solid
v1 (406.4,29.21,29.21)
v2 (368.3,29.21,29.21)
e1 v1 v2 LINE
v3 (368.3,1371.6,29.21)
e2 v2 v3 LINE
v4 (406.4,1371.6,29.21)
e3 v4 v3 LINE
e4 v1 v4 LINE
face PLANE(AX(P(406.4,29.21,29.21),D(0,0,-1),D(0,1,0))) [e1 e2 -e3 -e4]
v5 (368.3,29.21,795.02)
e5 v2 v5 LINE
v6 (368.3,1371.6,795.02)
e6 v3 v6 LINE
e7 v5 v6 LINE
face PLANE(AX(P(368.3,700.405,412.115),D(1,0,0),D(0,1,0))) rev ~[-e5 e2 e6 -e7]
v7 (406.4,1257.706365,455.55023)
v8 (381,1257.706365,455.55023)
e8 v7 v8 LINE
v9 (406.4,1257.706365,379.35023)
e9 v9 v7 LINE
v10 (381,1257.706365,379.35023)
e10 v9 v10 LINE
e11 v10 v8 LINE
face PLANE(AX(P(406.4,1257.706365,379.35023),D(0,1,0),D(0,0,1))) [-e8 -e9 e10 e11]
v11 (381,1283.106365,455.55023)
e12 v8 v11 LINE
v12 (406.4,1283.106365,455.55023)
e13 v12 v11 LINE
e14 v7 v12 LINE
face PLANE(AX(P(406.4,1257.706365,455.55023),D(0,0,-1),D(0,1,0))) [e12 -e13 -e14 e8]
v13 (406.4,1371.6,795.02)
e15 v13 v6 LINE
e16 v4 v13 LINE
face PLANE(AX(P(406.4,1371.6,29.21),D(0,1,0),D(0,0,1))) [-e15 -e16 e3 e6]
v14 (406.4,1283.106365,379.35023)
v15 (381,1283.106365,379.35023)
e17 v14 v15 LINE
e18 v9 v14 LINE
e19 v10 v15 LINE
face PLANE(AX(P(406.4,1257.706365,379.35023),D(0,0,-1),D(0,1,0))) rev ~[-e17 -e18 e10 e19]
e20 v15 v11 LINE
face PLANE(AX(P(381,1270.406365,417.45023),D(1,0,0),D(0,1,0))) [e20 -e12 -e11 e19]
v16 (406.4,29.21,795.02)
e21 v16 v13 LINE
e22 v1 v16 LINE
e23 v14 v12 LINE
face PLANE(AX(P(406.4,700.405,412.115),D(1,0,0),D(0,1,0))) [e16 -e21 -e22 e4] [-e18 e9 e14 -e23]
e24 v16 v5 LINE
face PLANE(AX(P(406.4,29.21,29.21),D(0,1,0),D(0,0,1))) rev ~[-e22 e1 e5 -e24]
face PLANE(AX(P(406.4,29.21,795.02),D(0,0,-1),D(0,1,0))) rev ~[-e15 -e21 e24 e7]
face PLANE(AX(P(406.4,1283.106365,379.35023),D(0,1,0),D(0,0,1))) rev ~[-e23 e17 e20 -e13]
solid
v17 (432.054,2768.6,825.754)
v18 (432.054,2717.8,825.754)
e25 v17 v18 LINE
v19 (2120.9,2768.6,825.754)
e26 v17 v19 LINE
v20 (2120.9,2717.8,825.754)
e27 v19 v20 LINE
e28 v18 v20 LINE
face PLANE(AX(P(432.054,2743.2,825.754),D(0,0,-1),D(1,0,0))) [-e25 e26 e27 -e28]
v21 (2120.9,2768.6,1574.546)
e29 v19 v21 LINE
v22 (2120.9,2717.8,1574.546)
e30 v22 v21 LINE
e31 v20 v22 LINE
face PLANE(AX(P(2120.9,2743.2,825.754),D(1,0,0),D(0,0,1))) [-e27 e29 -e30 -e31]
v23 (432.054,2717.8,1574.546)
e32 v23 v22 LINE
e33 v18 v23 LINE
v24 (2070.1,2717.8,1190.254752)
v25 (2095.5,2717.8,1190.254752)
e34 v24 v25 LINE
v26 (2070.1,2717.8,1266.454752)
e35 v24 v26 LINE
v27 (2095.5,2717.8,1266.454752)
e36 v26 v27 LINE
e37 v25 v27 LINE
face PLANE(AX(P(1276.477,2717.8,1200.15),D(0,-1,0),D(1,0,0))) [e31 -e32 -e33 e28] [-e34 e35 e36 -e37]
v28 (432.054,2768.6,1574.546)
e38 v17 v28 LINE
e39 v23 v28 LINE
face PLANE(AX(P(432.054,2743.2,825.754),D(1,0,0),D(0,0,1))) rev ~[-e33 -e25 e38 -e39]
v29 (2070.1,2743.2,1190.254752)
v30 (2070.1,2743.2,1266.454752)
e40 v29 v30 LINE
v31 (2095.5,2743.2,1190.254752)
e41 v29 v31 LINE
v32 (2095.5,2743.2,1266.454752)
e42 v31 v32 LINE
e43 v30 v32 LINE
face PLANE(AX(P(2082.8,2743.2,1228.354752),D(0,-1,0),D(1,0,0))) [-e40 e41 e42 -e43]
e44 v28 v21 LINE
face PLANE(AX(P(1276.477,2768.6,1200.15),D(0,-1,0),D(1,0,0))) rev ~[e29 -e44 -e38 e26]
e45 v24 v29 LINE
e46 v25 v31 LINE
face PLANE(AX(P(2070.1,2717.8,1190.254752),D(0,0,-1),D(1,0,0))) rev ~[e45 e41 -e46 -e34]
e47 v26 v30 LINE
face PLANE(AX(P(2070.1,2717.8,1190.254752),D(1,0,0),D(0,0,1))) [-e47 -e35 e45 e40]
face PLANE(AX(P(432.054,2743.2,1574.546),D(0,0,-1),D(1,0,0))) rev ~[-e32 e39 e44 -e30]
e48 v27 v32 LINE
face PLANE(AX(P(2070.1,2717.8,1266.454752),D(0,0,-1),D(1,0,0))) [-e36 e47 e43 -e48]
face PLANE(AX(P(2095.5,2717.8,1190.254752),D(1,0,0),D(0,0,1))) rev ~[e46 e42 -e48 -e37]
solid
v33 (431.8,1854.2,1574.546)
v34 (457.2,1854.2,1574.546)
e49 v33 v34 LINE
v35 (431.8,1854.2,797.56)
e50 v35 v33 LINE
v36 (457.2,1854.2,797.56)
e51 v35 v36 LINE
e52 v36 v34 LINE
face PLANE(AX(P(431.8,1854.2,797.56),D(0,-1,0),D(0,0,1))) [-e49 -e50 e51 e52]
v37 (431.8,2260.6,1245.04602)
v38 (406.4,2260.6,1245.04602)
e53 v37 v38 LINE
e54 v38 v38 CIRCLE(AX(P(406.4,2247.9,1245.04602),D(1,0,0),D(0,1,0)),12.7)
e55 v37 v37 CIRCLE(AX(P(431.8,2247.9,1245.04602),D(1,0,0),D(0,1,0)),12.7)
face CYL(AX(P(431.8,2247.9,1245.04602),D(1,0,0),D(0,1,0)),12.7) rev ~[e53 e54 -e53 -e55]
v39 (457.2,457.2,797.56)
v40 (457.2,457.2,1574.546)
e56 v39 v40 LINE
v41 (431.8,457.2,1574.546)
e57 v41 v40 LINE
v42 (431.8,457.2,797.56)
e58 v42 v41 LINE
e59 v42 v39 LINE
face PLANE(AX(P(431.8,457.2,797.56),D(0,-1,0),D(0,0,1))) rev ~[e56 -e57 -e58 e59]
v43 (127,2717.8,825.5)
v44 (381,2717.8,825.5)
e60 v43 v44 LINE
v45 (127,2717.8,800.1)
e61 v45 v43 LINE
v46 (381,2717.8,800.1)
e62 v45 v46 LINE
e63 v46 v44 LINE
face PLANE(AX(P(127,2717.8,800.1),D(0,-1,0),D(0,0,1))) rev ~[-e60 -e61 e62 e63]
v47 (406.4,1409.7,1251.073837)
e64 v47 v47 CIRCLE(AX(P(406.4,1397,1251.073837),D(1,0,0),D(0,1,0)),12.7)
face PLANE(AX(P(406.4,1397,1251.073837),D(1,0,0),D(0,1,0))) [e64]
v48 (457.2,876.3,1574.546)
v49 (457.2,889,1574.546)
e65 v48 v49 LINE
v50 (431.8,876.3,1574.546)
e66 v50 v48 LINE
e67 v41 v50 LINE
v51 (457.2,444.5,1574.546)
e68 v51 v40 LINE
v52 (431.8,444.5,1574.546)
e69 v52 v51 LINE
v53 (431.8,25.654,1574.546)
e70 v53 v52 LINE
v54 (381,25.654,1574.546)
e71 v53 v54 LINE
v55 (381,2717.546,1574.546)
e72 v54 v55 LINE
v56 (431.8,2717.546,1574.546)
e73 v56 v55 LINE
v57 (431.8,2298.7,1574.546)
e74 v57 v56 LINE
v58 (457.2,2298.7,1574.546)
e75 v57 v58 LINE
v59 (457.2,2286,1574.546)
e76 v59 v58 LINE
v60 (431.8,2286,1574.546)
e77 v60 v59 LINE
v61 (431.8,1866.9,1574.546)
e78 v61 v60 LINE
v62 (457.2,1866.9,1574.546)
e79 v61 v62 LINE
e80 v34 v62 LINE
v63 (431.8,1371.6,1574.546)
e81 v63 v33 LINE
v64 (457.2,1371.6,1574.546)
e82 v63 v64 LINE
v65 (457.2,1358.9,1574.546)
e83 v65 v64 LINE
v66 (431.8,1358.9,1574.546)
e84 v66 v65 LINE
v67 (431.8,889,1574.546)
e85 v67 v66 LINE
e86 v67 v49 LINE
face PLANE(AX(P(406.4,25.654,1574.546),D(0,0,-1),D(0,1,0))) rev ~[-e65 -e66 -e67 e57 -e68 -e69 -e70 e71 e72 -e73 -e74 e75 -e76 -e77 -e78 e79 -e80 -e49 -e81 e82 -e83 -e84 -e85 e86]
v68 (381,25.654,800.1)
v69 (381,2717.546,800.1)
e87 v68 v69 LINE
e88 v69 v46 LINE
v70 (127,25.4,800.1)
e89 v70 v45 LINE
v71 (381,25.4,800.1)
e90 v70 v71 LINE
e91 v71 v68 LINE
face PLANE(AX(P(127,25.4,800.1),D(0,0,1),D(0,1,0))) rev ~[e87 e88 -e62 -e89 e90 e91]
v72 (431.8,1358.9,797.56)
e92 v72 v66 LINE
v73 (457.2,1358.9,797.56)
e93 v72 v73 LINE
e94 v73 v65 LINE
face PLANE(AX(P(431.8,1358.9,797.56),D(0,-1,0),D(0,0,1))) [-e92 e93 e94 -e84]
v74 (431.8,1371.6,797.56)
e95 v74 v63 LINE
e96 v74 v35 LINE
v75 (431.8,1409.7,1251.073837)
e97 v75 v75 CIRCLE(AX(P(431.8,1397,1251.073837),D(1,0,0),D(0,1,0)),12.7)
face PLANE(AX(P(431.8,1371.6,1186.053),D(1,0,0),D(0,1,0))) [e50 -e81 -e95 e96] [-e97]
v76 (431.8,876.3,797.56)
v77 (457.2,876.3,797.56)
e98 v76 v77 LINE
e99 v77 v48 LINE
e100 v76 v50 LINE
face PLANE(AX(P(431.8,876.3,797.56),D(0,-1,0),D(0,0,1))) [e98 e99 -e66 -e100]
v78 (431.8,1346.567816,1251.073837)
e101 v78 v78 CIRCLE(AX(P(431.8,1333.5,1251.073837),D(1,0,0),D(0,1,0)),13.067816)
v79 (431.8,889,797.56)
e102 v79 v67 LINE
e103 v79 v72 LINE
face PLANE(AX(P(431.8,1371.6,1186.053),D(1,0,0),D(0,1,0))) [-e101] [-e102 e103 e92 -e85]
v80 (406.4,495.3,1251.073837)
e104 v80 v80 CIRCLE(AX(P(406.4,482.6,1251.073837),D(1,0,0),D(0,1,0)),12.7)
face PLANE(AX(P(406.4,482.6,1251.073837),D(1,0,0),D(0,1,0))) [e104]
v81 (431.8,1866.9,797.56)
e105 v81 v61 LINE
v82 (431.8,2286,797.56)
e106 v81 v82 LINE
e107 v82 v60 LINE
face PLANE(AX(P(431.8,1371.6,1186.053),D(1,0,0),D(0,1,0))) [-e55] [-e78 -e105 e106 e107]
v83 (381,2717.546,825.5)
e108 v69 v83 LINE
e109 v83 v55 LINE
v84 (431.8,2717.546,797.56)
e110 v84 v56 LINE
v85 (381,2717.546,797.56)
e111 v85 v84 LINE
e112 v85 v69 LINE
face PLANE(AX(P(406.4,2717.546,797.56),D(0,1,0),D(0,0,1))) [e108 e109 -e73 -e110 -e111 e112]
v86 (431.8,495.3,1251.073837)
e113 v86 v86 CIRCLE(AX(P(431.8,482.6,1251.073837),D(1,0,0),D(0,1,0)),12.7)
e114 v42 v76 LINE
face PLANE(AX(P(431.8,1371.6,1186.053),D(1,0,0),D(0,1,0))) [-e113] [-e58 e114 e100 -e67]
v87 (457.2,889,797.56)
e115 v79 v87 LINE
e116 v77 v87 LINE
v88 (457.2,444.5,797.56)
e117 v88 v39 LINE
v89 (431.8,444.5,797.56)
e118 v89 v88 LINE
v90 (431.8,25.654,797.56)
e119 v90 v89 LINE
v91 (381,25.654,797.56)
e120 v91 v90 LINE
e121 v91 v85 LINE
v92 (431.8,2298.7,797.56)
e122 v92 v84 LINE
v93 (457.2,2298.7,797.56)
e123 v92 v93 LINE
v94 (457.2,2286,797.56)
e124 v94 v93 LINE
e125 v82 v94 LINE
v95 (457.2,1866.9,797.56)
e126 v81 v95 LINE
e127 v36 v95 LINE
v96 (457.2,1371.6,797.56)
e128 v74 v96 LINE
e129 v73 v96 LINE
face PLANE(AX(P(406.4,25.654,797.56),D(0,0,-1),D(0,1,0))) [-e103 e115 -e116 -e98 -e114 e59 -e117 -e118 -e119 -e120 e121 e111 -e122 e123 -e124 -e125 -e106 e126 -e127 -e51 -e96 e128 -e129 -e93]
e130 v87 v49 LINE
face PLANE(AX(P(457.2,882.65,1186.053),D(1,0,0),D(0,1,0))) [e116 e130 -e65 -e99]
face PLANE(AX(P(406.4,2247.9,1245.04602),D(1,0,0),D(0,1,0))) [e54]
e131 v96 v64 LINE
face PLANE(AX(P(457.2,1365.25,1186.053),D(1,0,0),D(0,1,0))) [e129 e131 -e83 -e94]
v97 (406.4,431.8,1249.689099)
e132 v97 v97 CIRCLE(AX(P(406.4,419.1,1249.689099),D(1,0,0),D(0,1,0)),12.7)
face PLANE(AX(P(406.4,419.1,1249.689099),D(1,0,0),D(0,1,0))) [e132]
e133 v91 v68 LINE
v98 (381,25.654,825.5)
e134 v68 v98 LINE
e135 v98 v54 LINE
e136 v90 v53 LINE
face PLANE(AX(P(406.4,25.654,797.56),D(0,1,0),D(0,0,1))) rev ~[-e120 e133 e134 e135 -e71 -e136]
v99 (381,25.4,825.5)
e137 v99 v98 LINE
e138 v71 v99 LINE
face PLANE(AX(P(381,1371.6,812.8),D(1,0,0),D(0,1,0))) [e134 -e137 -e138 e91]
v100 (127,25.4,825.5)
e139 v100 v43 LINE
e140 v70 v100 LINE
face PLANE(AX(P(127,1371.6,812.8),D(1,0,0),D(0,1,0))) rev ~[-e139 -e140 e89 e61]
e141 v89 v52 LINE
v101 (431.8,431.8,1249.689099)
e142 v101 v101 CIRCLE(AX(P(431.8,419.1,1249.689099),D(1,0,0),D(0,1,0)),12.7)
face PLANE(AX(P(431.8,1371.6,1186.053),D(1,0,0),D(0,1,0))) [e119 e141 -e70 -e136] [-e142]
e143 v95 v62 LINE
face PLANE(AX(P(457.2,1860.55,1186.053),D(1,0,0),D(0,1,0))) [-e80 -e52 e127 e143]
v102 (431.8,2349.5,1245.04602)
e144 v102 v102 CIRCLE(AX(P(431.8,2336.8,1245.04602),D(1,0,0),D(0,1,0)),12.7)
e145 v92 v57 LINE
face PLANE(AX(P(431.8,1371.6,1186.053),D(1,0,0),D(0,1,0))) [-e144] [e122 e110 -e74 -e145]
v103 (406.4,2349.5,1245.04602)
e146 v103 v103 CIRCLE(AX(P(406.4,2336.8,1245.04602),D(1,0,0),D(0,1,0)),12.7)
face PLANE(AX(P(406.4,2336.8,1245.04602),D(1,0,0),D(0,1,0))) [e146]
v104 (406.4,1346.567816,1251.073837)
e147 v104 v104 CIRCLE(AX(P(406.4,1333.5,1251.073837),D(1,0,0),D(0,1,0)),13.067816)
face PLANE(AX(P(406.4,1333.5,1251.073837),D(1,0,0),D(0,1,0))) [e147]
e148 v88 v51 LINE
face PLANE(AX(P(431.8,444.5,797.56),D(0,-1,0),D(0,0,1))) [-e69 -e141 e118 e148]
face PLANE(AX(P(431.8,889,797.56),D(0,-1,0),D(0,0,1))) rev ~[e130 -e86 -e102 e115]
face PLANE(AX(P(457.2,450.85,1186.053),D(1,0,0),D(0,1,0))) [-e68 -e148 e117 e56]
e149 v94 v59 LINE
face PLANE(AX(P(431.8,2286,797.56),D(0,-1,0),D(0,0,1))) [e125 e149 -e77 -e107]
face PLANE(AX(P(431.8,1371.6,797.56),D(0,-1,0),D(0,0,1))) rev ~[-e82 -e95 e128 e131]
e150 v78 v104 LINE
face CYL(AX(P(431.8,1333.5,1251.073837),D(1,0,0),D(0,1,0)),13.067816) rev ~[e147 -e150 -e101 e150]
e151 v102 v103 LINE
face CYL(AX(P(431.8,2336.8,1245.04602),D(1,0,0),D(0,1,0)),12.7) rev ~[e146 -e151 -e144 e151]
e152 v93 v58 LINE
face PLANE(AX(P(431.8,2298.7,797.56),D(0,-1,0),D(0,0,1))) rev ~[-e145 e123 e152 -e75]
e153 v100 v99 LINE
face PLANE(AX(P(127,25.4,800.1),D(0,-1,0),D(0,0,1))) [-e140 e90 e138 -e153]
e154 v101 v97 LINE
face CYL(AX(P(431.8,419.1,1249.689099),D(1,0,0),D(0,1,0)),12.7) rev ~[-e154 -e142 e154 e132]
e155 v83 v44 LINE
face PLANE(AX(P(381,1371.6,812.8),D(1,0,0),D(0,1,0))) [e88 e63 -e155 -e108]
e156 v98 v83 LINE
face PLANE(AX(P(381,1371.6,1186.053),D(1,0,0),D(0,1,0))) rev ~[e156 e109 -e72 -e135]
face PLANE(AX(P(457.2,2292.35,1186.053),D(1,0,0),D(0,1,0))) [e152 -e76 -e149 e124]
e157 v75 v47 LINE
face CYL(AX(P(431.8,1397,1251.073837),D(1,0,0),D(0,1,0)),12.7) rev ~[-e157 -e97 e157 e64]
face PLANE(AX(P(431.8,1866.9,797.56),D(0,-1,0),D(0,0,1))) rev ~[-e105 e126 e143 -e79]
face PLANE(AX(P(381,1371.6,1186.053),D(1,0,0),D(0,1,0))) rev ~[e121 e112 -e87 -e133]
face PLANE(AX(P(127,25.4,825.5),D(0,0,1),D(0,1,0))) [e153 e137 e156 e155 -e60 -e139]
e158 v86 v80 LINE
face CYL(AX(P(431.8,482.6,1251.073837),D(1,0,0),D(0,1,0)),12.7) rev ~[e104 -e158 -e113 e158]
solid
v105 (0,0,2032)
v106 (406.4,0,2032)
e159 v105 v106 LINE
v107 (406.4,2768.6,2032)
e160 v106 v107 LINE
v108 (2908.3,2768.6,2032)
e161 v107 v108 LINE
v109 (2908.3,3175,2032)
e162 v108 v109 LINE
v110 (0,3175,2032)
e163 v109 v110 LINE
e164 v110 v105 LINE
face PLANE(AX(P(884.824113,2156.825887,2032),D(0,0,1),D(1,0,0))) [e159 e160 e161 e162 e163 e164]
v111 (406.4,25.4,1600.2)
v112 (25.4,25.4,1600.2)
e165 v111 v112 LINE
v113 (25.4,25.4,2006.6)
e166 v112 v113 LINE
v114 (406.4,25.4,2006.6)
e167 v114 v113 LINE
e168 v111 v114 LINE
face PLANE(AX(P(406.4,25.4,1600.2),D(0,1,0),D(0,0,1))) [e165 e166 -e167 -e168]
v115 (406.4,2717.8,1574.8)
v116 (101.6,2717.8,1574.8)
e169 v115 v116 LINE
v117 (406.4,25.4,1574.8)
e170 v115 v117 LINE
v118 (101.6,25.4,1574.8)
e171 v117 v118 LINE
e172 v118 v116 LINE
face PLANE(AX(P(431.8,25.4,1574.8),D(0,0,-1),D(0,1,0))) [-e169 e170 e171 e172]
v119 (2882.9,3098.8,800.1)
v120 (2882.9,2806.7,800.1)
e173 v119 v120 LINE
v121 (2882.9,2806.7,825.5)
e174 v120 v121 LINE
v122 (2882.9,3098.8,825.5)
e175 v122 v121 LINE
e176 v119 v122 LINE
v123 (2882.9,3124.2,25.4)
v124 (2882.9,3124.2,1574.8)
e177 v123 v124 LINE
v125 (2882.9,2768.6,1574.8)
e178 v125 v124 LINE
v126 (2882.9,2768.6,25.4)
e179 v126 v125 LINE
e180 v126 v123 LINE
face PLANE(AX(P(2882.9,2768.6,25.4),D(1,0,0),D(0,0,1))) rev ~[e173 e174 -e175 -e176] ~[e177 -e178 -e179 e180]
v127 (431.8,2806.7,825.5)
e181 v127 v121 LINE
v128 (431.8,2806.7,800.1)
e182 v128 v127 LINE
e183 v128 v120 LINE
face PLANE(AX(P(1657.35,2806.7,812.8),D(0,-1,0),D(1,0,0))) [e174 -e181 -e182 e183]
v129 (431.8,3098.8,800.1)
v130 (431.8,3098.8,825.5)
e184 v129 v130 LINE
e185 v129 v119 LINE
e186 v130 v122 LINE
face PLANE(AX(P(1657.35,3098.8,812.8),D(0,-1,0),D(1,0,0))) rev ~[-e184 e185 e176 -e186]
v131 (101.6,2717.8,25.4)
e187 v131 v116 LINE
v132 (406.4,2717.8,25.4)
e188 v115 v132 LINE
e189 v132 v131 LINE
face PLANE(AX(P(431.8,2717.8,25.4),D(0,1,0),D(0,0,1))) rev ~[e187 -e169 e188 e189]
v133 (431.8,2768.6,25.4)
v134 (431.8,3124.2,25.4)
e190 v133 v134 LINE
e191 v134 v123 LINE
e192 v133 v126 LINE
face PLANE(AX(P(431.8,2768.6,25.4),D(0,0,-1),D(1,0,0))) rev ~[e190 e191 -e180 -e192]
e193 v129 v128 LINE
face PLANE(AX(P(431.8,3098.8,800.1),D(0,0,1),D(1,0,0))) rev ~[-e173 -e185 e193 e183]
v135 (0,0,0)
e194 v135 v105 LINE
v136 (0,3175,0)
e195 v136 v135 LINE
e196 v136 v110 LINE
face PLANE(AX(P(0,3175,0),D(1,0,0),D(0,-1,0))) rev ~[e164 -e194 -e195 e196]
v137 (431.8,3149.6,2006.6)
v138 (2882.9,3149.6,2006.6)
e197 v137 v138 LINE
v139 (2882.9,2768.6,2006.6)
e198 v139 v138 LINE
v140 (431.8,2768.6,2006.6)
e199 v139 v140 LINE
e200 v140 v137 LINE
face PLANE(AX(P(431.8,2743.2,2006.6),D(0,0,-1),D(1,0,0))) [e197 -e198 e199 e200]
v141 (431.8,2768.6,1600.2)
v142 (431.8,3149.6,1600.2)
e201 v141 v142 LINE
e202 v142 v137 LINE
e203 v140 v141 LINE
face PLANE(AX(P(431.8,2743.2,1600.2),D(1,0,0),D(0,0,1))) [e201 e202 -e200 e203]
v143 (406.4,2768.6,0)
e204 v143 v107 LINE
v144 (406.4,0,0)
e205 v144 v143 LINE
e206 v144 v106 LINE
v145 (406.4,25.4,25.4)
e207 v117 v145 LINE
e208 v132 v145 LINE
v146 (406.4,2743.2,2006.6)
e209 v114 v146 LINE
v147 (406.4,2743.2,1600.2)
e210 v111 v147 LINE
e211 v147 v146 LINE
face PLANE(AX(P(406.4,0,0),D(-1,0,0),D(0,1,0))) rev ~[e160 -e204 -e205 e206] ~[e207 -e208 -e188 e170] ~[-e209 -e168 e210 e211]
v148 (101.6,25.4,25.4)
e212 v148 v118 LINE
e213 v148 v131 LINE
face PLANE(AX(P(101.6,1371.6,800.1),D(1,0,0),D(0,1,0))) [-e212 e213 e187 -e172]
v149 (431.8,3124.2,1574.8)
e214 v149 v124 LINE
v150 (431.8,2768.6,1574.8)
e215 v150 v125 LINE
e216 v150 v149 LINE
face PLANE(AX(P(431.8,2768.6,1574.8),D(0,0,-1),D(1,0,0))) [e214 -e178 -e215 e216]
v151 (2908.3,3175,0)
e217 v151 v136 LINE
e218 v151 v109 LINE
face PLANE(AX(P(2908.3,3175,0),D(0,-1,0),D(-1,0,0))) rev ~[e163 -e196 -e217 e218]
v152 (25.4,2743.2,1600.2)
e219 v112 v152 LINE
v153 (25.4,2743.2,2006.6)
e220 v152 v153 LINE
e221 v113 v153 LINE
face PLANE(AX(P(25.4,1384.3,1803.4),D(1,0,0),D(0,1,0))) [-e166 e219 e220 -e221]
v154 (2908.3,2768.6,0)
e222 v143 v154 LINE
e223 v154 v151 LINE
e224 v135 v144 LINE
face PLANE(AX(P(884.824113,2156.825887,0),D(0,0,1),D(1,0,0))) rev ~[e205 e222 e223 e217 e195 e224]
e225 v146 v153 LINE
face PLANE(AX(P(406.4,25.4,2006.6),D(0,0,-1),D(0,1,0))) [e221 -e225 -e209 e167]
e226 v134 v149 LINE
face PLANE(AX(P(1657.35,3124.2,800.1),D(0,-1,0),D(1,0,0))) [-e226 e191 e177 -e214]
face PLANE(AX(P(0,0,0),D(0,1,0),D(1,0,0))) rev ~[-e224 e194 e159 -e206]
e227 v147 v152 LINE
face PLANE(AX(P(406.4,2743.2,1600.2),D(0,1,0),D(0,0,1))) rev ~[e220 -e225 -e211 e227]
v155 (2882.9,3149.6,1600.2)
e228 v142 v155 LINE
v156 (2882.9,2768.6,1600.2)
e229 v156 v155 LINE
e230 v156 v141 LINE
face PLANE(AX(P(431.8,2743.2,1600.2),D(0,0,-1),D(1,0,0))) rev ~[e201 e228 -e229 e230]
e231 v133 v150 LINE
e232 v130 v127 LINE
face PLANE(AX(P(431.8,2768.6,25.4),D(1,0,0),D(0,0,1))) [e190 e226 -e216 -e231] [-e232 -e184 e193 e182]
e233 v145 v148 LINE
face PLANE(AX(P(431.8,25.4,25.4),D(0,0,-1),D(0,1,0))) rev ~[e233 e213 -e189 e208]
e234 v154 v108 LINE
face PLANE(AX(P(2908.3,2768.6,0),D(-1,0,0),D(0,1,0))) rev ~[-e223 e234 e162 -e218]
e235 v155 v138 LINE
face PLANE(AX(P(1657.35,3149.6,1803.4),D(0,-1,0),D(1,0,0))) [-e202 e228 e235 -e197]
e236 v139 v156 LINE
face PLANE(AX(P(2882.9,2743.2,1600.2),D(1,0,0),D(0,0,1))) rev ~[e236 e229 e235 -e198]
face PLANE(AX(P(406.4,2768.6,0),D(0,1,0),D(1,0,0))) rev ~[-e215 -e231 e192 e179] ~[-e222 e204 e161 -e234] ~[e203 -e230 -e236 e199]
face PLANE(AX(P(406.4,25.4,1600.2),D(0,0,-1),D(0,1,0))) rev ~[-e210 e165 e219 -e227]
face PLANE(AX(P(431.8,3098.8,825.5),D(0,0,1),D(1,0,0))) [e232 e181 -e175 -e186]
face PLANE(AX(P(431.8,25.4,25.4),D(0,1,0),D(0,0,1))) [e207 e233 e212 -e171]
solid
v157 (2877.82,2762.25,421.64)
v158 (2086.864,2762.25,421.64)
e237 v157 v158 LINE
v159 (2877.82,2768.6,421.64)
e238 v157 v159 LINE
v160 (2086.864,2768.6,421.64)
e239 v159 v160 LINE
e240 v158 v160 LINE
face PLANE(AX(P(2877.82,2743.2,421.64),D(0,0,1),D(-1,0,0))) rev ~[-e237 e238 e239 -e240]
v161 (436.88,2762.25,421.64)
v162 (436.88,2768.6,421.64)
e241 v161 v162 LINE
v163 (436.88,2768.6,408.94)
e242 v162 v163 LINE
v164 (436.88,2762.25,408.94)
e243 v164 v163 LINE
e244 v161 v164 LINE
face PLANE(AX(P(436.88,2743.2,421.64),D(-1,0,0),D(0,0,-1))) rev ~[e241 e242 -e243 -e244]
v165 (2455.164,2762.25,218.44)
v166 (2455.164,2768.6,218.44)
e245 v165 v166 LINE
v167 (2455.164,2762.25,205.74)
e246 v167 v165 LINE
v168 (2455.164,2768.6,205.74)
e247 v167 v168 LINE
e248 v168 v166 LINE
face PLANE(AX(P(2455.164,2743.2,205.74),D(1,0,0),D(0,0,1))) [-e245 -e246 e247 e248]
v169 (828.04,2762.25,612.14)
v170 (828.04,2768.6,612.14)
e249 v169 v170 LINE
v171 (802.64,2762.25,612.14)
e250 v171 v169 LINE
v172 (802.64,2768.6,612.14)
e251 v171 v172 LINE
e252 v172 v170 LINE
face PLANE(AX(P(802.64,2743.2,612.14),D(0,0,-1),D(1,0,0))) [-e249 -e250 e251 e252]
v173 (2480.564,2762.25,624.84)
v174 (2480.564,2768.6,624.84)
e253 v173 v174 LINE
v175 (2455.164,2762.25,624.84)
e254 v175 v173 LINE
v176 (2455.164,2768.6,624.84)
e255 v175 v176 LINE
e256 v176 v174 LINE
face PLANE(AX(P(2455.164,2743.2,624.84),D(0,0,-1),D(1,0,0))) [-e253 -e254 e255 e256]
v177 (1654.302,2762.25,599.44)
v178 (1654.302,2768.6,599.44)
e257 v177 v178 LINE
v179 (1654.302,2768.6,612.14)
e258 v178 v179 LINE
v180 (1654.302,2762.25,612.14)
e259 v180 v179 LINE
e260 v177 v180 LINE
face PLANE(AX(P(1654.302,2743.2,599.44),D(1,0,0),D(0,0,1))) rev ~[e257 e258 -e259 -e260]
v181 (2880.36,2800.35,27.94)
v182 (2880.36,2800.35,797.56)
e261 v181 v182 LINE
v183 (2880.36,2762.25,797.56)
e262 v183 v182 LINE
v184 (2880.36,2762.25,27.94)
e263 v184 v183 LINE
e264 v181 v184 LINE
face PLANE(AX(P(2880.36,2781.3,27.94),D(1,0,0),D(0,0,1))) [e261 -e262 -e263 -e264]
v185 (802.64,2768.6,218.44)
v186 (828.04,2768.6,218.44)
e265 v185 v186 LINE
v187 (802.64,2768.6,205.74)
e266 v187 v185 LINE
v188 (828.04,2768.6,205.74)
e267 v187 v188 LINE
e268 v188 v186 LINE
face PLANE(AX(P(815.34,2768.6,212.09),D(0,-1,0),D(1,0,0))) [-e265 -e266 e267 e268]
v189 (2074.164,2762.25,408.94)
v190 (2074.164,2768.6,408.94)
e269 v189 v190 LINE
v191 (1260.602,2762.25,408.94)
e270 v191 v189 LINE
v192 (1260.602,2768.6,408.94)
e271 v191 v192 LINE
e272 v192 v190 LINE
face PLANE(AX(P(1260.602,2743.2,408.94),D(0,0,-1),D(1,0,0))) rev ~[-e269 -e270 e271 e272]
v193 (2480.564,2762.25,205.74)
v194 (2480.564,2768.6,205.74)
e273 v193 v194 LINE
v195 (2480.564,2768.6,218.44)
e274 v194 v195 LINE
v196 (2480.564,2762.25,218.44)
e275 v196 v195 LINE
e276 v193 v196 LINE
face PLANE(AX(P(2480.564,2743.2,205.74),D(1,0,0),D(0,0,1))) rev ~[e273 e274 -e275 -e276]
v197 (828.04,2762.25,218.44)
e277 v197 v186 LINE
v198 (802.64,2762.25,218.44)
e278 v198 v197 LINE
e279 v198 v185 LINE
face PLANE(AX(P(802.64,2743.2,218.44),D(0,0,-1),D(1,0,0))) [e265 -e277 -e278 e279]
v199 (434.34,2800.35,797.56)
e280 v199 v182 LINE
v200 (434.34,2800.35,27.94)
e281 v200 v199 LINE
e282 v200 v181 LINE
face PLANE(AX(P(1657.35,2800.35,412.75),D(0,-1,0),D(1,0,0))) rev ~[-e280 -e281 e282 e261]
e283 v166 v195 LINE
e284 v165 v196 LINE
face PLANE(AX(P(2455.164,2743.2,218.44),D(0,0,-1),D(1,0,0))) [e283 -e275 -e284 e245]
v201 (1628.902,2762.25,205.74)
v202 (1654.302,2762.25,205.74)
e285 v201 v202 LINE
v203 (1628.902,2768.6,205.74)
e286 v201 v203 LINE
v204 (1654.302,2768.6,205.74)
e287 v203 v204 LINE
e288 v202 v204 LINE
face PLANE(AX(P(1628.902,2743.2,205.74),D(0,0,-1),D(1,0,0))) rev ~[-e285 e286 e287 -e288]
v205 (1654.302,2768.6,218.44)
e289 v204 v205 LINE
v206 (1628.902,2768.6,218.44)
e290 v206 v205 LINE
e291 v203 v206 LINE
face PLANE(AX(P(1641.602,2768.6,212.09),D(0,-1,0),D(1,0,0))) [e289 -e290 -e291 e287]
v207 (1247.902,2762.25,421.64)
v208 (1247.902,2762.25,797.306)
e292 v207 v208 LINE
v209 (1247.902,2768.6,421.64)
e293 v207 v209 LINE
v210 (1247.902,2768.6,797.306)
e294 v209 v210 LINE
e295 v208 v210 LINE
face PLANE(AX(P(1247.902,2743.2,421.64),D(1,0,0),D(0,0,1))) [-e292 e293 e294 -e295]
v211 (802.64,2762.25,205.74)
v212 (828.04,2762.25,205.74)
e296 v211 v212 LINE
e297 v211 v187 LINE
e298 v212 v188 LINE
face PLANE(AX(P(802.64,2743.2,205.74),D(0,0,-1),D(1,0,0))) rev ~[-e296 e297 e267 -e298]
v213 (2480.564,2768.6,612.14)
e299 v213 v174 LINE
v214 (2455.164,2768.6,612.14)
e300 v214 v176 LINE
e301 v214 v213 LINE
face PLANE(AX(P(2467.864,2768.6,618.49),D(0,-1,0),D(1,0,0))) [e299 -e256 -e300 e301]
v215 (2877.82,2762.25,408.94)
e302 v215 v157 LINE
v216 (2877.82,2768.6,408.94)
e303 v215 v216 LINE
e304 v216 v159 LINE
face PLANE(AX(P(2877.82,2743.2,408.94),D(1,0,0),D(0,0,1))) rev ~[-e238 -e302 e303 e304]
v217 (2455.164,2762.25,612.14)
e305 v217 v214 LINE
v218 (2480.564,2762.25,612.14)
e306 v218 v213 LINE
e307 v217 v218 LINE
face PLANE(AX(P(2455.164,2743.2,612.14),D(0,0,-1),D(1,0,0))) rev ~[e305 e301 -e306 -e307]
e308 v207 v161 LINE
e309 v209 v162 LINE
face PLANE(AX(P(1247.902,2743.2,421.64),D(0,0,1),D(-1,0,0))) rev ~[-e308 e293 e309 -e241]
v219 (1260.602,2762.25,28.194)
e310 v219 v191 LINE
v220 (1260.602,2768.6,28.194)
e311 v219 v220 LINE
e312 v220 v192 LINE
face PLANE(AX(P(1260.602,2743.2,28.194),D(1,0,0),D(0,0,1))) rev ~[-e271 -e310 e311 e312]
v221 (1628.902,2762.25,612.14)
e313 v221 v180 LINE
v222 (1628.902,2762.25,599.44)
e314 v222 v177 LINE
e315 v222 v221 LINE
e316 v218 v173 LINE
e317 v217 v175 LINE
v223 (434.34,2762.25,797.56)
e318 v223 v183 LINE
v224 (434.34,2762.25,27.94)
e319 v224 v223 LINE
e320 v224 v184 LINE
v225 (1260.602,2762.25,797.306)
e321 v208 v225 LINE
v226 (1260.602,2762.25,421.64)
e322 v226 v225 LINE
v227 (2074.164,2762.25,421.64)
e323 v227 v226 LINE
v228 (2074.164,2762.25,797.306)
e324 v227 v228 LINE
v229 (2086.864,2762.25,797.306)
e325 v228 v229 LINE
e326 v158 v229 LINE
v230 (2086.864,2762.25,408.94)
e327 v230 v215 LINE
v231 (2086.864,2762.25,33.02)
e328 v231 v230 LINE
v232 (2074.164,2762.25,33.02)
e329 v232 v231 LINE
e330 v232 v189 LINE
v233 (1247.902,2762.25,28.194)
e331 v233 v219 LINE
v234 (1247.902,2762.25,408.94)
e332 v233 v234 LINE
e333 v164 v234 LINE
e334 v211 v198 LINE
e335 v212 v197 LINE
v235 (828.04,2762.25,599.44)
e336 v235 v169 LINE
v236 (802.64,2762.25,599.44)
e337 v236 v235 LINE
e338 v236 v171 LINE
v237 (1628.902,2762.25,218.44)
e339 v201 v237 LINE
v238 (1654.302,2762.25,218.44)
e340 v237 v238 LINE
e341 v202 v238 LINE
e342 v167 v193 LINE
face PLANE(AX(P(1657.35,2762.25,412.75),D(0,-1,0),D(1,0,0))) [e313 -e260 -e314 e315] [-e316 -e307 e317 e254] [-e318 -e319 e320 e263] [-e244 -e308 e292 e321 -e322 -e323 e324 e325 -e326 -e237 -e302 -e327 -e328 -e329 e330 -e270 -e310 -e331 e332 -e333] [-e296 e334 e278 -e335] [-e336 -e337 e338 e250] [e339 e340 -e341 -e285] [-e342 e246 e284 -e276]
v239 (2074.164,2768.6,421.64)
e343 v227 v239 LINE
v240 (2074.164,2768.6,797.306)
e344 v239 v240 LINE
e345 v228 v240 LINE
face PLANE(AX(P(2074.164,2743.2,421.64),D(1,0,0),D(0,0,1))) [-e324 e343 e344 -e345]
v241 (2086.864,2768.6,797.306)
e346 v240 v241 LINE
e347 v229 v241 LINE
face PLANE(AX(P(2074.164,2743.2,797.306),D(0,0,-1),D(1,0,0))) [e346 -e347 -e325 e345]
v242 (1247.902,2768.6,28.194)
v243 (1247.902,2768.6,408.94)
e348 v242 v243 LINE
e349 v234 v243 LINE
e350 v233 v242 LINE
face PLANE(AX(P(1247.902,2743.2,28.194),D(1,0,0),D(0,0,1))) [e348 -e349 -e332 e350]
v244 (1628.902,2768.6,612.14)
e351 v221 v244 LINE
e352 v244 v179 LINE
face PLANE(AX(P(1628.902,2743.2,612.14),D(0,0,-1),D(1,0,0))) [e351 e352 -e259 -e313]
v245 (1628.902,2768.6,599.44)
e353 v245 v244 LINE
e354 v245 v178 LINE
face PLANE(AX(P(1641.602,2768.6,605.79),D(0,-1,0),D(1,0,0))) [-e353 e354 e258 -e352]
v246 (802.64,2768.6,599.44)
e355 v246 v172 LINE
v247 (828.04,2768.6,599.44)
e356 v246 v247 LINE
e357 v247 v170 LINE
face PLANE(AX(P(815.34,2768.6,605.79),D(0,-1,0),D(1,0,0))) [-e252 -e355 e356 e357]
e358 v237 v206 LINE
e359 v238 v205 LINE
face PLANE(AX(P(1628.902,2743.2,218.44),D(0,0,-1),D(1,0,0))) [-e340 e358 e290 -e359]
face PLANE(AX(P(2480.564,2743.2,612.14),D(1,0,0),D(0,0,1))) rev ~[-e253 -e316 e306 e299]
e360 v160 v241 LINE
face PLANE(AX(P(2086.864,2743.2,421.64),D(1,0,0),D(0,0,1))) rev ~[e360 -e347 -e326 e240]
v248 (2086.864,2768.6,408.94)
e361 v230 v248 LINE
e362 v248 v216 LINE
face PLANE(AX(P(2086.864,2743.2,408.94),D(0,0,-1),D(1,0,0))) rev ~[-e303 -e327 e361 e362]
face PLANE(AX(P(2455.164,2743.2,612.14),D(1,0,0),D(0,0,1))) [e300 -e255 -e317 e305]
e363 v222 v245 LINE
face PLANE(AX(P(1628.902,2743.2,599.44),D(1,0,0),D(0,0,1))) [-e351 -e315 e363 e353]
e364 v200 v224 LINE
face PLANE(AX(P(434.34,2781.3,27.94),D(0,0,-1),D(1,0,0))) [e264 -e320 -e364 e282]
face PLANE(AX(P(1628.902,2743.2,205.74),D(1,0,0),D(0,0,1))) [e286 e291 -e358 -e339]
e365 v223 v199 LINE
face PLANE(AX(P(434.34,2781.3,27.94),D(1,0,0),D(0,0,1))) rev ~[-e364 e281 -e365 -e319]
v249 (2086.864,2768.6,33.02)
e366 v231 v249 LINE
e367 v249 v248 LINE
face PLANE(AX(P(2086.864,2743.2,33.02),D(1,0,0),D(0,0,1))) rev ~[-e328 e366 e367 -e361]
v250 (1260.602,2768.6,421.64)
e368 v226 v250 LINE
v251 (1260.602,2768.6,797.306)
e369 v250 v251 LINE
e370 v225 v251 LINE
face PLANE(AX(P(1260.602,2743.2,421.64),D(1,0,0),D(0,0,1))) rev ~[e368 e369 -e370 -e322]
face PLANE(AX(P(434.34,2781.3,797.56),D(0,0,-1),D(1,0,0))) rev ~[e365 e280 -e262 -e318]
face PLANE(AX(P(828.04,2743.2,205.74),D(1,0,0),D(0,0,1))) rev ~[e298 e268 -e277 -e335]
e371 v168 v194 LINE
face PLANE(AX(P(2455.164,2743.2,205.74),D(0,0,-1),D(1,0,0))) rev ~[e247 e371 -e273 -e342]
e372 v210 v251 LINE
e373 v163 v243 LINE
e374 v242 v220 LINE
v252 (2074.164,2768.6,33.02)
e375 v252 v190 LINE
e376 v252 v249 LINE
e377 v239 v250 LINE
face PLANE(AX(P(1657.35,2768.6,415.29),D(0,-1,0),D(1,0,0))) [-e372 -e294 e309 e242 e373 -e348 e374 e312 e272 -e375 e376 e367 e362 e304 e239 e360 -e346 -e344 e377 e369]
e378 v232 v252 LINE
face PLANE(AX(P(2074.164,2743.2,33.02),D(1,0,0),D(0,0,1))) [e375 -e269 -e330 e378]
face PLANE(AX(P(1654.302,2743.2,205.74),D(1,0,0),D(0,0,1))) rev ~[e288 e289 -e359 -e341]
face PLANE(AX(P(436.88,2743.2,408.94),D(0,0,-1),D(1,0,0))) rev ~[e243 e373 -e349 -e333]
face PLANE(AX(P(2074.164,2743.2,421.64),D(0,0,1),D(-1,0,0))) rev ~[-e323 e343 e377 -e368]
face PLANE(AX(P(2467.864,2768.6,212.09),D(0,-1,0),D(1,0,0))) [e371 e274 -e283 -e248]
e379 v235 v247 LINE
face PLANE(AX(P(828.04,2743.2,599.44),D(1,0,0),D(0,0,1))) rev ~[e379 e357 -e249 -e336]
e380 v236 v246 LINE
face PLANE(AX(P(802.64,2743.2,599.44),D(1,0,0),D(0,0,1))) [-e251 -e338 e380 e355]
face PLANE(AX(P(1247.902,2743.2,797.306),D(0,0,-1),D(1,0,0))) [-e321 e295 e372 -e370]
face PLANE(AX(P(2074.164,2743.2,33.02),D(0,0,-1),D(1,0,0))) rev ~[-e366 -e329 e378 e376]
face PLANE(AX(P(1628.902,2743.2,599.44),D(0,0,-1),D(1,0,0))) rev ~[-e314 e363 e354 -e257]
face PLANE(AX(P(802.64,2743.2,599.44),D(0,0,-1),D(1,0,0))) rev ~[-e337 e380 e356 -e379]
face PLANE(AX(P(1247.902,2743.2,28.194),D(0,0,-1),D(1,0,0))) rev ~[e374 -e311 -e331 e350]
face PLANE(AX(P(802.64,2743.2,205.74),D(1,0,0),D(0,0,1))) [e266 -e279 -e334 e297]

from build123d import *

# Parameters (mm, degrees)
F1_DEPTH       = 2032
F3_W           = 2717.8
F3_H           = 406.4
F4_DEPTH       = 381
F5_W           = 2692.4
F5_H           = 1549.4
F6_DEPTH       = 330.2
F8_W           = 2451.1
F8_H           = 406.4
F9_DEPTH       = 406.4
F11_W          = 2692.4
F11_H          = 25.4
F12_DEPTH      = 254
F14_W          = 1342.39
F14_H          = 765.81
F15_DEPTH      = 38.1
F17_W          = 2451.1
F17_H          = 1549.4
F18_DEPTH      = 355.6
F20_W          = 2451.1
F20_H          = 25.4
F21_DEPTH      = 292.1
F23_W          = 2446.02
F23_H          = 769.62
F24_DEPTH      = 19.05
F24_DEPTH_BACK = 19.05
F25_W          = 12.7
F25_H          = 380.746
F25_H_2        = 375.666
F25_H_3        = 375.92
F26_DEPTH      = 25.4
F27_W          = 25.4
F27_H          = 12.7
F28_DEPTH      = 25.4
F29_W          = 1688.846
F29_H          = 748.792
F30_DEPTH      = 25.4
F30_DEPTH_BACK = 25.4
F31_W          = 25.4
F31_H          = 76.2
F32_DEPTH      = 25.4
F33_W          = 25.4
F33_H          = 76.2
F34_DEPTH      = 25.4
F35_W          = 2691.892
F35_H          = 776.986
F36_DEPTH      = 25.4
F36_DEPTH_BACK = 25.4
F37_W          = 12.7
F37_H          = 776.986
F38_DEPTH      = 25.4
F39_R          = 12.7
F39_R_2        = 13.0678155546
F40_DEPTH      = 25.4


with BuildPart() as f1:
    # F0 (on Top) → F1 (new body)
    with BuildSketch(Plane.XY):
        Polygon((0, 3175), (0, 0), (406.4, 0), (406.4, 2768.6), (2908.3, 2768.6), (2908.3, 3175), align=None)
    extrude(amount=F1_DEPTH)

    # F3 (on face) → F4 (cut)
    with BuildSketch(Plane.YZ.offset(406.4)):
        with Locations((1384.3, 1803.4)):
            Rectangle(F3_W, F3_H)
    extrude(amount=-F4_DEPTH, mode=Mode.SUBTRACT)

    # F5 (on offset) → F6 (cut)
    with BuildSketch(Plane.YZ.offset(431.8)):
        with Locations((1371.6, 800.1)):
            Rectangle(F5_W, F5_H)
    extrude(amount=-F6_DEPTH, mode=Mode.SUBTRACT)

    # F8 (on offset) → F9 (cut)
    with BuildSketch(Plane.XZ.offset(-2743.2)):
        with Locations((1657.35, 1803.4)):
            Rectangle(F8_W, F8_H)
    extrude(amount=-F9_DEPTH, mode=Mode.SUBTRACT)

    # F17 (on face) → F18 (cut)
    with BuildSketch(Plane.XZ.offset(-2768.6)):
        with Locations((1657.35, 800.1)):
            Rectangle(F17_W, F17_H)
    extrude(amount=-F18_DEPTH, mode=Mode.SUBTRACT)

    # F20 (on offset) → F21 (join)
    with BuildSketch(Plane.XZ.offset(-3098.8)):
        with Locations((1657.35, 812.8)):
            Rectangle(F20_W, F20_H)
    extrude(amount=F21_DEPTH)


with BuildPart() as f12:
    # F11 (on offset) → F12 (new body)
    with BuildSketch(Plane.YZ.offset(127)):
        with Locations((1371.6, 812.8)):
            Rectangle(F11_W, F11_H)
    extrude(amount=F12_DEPTH)

    # F35 (on offset) → F36 (join, two sides)
    with BuildSketch(Plane.YZ.offset(406.4)) as f36_sk:
        with Locations((1371.6, 1186.053)):
            Rectangle(F35_W, F35_H)
    extrude(amount=F36_DEPTH)
    extrude(f36_sk.sketch, amount=-F36_DEPTH_BACK)

    # F37 (on face) → F38 (join)
    with BuildSketch(Plane.YZ.offset(431.8)):
        with Locations((450.85, 1186.053)):
            Rectangle(F37_W, F37_H)
        with Locations((882.65, 1186.053)):
            Rectangle(F37_W, F37_H)
        with Locations((2292.35, 1186.053)):
            Rectangle(F37_W, F37_H)
        with Locations((1860.55, 1186.053)):
            Rectangle(F37_W, F37_H)
        with Locations((1365.25, 1186.053)):
            Rectangle(F37_W, F37_H)
    extrude(amount=F38_DEPTH)

    # F39 (on face) → F40 (cut)
    with BuildSketch(Plane.YZ.offset(431.8)):
        with Locations((419.1, 1249.6890985292)):
            Circle(F39_R)
        with Locations((482.6, 1251.0738372803)):
            Circle(F39_R)
        with Locations((1333.5, 1251.0738372803)):
            Circle(F39_R_2)
        with Locations((1397, 1251.0738372803)):
            Circle(F39_R)
        with Locations((2247.9, 1245.0460195541)):
            Circle(F39_R)
        with Locations((2336.8, 1245.0460195541)):
            Circle(F39_R)
    extrude(amount=-F40_DEPTH, mode=Mode.SUBTRACT)


with BuildPart() as f15:
    # F14 (on offset) → F15 (new body)
    with BuildSketch(Plane.YZ.offset(406.4)):
        with Locations((700.405, 412.115)):
            Rectangle(F14_W, F14_H)
    extrude(amount=-F15_DEPTH)

    # F33 (on face) → F34 (cut)
    with BuildSketch(Plane.YZ.offset(406.4)):
        with Locations((1270.4063653946, 417.4502300538)):
            Rectangle(F33_W, F33_H)
    extrude(amount=-F34_DEPTH, mode=Mode.SUBTRACT)


with BuildPart() as f24:
    # F23 (on offset) → F24 (new body, two sides)
    with BuildSketch(Plane.XZ.offset(-2781.3)) as f24_sk:
        with Locations((1657.35, 412.75)):
            Rectangle(F23_W, F23_H)
    extrude(amount=F24_DEPTH)
    extrude(f24_sk.sketch, amount=-F24_DEPTH_BACK)

    # F25 (on offset) → F26 (cut)
    with BuildSketch(Plane.XZ.offset(-2743.2)):
        Polygon((436.88, 421.64), (436.88, 408.94), (1247.902, 408.94), (1260.602, 408.94), (2074.164, 408.94), (2086.864, 408.94), (2877.82, 408.94), (2877.82, 421.64), (2086.864, 421.64), (2074.164, 421.64), (1260.602, 421.64), (1247.902, 421.64), align=None)
        with Locations((1254.252, 218.567)):
            Rectangle(F25_W, F25_H)
        with Locations((1254.252, 609.473)):
            Rectangle(F25_W, F25_H_2)
        with Locations((2080.514, 220.98)):
            Rectangle(F25_W, F25_H_3)
        with Locations((2080.514, 609.473)):
            Rectangle(F25_W, F25_H_2)
    extrude(amount=-F26_DEPTH, mode=Mode.SUBTRACT)

    # F27 (on offset) → F28 (cut)
    with BuildSketch(Plane.XZ.offset(-2743.2)):
        with Locations((815.34, 605.79)):
            Rectangle(F27_W, F27_H)
        with Locations((815.34, 212.09)):
            Rectangle(F27_W, F27_H)
        with Locations((1641.602, 605.79)):
            Rectangle(F27_W, F27_H)
        with Locations((1641.602, 212.09)):
            Rectangle(F27_W, F27_H)
        with Locations((2467.864, 618.49)):
            Rectangle(F27_W, F27_H)
        with Locations((2467.864, 212.09)):
            Rectangle(F27_W, F27_H)
    extrude(amount=-F28_DEPTH, mode=Mode.SUBTRACT)


with BuildPart() as f30:
    # F29 (on offset) → F30 (new body, two sides)
    with BuildSketch(Plane.XZ.offset(-2743.2)) as f30_sk:
        with Locations((1276.477, 1200.15)):
            Rectangle(F29_W, F29_H)
    extrude(amount=F30_DEPTH)
    extrude(f30_sk.sketch, amount=-F30_DEPTH_BACK)

    # F31 (on face) → F32 (cut)
    with BuildSketch(Plane.XZ.offset(-2717.8)):
        with Locations((2082.8, 1228.3547520638)):
            Rectangle(F31_W, F31_H)
    extrude(amount=-F32_DEPTH, mode=Mode.SUBTRACT)


solid = Compound([f1.part, f12.part, f15.part, f24.part, f30.part])
